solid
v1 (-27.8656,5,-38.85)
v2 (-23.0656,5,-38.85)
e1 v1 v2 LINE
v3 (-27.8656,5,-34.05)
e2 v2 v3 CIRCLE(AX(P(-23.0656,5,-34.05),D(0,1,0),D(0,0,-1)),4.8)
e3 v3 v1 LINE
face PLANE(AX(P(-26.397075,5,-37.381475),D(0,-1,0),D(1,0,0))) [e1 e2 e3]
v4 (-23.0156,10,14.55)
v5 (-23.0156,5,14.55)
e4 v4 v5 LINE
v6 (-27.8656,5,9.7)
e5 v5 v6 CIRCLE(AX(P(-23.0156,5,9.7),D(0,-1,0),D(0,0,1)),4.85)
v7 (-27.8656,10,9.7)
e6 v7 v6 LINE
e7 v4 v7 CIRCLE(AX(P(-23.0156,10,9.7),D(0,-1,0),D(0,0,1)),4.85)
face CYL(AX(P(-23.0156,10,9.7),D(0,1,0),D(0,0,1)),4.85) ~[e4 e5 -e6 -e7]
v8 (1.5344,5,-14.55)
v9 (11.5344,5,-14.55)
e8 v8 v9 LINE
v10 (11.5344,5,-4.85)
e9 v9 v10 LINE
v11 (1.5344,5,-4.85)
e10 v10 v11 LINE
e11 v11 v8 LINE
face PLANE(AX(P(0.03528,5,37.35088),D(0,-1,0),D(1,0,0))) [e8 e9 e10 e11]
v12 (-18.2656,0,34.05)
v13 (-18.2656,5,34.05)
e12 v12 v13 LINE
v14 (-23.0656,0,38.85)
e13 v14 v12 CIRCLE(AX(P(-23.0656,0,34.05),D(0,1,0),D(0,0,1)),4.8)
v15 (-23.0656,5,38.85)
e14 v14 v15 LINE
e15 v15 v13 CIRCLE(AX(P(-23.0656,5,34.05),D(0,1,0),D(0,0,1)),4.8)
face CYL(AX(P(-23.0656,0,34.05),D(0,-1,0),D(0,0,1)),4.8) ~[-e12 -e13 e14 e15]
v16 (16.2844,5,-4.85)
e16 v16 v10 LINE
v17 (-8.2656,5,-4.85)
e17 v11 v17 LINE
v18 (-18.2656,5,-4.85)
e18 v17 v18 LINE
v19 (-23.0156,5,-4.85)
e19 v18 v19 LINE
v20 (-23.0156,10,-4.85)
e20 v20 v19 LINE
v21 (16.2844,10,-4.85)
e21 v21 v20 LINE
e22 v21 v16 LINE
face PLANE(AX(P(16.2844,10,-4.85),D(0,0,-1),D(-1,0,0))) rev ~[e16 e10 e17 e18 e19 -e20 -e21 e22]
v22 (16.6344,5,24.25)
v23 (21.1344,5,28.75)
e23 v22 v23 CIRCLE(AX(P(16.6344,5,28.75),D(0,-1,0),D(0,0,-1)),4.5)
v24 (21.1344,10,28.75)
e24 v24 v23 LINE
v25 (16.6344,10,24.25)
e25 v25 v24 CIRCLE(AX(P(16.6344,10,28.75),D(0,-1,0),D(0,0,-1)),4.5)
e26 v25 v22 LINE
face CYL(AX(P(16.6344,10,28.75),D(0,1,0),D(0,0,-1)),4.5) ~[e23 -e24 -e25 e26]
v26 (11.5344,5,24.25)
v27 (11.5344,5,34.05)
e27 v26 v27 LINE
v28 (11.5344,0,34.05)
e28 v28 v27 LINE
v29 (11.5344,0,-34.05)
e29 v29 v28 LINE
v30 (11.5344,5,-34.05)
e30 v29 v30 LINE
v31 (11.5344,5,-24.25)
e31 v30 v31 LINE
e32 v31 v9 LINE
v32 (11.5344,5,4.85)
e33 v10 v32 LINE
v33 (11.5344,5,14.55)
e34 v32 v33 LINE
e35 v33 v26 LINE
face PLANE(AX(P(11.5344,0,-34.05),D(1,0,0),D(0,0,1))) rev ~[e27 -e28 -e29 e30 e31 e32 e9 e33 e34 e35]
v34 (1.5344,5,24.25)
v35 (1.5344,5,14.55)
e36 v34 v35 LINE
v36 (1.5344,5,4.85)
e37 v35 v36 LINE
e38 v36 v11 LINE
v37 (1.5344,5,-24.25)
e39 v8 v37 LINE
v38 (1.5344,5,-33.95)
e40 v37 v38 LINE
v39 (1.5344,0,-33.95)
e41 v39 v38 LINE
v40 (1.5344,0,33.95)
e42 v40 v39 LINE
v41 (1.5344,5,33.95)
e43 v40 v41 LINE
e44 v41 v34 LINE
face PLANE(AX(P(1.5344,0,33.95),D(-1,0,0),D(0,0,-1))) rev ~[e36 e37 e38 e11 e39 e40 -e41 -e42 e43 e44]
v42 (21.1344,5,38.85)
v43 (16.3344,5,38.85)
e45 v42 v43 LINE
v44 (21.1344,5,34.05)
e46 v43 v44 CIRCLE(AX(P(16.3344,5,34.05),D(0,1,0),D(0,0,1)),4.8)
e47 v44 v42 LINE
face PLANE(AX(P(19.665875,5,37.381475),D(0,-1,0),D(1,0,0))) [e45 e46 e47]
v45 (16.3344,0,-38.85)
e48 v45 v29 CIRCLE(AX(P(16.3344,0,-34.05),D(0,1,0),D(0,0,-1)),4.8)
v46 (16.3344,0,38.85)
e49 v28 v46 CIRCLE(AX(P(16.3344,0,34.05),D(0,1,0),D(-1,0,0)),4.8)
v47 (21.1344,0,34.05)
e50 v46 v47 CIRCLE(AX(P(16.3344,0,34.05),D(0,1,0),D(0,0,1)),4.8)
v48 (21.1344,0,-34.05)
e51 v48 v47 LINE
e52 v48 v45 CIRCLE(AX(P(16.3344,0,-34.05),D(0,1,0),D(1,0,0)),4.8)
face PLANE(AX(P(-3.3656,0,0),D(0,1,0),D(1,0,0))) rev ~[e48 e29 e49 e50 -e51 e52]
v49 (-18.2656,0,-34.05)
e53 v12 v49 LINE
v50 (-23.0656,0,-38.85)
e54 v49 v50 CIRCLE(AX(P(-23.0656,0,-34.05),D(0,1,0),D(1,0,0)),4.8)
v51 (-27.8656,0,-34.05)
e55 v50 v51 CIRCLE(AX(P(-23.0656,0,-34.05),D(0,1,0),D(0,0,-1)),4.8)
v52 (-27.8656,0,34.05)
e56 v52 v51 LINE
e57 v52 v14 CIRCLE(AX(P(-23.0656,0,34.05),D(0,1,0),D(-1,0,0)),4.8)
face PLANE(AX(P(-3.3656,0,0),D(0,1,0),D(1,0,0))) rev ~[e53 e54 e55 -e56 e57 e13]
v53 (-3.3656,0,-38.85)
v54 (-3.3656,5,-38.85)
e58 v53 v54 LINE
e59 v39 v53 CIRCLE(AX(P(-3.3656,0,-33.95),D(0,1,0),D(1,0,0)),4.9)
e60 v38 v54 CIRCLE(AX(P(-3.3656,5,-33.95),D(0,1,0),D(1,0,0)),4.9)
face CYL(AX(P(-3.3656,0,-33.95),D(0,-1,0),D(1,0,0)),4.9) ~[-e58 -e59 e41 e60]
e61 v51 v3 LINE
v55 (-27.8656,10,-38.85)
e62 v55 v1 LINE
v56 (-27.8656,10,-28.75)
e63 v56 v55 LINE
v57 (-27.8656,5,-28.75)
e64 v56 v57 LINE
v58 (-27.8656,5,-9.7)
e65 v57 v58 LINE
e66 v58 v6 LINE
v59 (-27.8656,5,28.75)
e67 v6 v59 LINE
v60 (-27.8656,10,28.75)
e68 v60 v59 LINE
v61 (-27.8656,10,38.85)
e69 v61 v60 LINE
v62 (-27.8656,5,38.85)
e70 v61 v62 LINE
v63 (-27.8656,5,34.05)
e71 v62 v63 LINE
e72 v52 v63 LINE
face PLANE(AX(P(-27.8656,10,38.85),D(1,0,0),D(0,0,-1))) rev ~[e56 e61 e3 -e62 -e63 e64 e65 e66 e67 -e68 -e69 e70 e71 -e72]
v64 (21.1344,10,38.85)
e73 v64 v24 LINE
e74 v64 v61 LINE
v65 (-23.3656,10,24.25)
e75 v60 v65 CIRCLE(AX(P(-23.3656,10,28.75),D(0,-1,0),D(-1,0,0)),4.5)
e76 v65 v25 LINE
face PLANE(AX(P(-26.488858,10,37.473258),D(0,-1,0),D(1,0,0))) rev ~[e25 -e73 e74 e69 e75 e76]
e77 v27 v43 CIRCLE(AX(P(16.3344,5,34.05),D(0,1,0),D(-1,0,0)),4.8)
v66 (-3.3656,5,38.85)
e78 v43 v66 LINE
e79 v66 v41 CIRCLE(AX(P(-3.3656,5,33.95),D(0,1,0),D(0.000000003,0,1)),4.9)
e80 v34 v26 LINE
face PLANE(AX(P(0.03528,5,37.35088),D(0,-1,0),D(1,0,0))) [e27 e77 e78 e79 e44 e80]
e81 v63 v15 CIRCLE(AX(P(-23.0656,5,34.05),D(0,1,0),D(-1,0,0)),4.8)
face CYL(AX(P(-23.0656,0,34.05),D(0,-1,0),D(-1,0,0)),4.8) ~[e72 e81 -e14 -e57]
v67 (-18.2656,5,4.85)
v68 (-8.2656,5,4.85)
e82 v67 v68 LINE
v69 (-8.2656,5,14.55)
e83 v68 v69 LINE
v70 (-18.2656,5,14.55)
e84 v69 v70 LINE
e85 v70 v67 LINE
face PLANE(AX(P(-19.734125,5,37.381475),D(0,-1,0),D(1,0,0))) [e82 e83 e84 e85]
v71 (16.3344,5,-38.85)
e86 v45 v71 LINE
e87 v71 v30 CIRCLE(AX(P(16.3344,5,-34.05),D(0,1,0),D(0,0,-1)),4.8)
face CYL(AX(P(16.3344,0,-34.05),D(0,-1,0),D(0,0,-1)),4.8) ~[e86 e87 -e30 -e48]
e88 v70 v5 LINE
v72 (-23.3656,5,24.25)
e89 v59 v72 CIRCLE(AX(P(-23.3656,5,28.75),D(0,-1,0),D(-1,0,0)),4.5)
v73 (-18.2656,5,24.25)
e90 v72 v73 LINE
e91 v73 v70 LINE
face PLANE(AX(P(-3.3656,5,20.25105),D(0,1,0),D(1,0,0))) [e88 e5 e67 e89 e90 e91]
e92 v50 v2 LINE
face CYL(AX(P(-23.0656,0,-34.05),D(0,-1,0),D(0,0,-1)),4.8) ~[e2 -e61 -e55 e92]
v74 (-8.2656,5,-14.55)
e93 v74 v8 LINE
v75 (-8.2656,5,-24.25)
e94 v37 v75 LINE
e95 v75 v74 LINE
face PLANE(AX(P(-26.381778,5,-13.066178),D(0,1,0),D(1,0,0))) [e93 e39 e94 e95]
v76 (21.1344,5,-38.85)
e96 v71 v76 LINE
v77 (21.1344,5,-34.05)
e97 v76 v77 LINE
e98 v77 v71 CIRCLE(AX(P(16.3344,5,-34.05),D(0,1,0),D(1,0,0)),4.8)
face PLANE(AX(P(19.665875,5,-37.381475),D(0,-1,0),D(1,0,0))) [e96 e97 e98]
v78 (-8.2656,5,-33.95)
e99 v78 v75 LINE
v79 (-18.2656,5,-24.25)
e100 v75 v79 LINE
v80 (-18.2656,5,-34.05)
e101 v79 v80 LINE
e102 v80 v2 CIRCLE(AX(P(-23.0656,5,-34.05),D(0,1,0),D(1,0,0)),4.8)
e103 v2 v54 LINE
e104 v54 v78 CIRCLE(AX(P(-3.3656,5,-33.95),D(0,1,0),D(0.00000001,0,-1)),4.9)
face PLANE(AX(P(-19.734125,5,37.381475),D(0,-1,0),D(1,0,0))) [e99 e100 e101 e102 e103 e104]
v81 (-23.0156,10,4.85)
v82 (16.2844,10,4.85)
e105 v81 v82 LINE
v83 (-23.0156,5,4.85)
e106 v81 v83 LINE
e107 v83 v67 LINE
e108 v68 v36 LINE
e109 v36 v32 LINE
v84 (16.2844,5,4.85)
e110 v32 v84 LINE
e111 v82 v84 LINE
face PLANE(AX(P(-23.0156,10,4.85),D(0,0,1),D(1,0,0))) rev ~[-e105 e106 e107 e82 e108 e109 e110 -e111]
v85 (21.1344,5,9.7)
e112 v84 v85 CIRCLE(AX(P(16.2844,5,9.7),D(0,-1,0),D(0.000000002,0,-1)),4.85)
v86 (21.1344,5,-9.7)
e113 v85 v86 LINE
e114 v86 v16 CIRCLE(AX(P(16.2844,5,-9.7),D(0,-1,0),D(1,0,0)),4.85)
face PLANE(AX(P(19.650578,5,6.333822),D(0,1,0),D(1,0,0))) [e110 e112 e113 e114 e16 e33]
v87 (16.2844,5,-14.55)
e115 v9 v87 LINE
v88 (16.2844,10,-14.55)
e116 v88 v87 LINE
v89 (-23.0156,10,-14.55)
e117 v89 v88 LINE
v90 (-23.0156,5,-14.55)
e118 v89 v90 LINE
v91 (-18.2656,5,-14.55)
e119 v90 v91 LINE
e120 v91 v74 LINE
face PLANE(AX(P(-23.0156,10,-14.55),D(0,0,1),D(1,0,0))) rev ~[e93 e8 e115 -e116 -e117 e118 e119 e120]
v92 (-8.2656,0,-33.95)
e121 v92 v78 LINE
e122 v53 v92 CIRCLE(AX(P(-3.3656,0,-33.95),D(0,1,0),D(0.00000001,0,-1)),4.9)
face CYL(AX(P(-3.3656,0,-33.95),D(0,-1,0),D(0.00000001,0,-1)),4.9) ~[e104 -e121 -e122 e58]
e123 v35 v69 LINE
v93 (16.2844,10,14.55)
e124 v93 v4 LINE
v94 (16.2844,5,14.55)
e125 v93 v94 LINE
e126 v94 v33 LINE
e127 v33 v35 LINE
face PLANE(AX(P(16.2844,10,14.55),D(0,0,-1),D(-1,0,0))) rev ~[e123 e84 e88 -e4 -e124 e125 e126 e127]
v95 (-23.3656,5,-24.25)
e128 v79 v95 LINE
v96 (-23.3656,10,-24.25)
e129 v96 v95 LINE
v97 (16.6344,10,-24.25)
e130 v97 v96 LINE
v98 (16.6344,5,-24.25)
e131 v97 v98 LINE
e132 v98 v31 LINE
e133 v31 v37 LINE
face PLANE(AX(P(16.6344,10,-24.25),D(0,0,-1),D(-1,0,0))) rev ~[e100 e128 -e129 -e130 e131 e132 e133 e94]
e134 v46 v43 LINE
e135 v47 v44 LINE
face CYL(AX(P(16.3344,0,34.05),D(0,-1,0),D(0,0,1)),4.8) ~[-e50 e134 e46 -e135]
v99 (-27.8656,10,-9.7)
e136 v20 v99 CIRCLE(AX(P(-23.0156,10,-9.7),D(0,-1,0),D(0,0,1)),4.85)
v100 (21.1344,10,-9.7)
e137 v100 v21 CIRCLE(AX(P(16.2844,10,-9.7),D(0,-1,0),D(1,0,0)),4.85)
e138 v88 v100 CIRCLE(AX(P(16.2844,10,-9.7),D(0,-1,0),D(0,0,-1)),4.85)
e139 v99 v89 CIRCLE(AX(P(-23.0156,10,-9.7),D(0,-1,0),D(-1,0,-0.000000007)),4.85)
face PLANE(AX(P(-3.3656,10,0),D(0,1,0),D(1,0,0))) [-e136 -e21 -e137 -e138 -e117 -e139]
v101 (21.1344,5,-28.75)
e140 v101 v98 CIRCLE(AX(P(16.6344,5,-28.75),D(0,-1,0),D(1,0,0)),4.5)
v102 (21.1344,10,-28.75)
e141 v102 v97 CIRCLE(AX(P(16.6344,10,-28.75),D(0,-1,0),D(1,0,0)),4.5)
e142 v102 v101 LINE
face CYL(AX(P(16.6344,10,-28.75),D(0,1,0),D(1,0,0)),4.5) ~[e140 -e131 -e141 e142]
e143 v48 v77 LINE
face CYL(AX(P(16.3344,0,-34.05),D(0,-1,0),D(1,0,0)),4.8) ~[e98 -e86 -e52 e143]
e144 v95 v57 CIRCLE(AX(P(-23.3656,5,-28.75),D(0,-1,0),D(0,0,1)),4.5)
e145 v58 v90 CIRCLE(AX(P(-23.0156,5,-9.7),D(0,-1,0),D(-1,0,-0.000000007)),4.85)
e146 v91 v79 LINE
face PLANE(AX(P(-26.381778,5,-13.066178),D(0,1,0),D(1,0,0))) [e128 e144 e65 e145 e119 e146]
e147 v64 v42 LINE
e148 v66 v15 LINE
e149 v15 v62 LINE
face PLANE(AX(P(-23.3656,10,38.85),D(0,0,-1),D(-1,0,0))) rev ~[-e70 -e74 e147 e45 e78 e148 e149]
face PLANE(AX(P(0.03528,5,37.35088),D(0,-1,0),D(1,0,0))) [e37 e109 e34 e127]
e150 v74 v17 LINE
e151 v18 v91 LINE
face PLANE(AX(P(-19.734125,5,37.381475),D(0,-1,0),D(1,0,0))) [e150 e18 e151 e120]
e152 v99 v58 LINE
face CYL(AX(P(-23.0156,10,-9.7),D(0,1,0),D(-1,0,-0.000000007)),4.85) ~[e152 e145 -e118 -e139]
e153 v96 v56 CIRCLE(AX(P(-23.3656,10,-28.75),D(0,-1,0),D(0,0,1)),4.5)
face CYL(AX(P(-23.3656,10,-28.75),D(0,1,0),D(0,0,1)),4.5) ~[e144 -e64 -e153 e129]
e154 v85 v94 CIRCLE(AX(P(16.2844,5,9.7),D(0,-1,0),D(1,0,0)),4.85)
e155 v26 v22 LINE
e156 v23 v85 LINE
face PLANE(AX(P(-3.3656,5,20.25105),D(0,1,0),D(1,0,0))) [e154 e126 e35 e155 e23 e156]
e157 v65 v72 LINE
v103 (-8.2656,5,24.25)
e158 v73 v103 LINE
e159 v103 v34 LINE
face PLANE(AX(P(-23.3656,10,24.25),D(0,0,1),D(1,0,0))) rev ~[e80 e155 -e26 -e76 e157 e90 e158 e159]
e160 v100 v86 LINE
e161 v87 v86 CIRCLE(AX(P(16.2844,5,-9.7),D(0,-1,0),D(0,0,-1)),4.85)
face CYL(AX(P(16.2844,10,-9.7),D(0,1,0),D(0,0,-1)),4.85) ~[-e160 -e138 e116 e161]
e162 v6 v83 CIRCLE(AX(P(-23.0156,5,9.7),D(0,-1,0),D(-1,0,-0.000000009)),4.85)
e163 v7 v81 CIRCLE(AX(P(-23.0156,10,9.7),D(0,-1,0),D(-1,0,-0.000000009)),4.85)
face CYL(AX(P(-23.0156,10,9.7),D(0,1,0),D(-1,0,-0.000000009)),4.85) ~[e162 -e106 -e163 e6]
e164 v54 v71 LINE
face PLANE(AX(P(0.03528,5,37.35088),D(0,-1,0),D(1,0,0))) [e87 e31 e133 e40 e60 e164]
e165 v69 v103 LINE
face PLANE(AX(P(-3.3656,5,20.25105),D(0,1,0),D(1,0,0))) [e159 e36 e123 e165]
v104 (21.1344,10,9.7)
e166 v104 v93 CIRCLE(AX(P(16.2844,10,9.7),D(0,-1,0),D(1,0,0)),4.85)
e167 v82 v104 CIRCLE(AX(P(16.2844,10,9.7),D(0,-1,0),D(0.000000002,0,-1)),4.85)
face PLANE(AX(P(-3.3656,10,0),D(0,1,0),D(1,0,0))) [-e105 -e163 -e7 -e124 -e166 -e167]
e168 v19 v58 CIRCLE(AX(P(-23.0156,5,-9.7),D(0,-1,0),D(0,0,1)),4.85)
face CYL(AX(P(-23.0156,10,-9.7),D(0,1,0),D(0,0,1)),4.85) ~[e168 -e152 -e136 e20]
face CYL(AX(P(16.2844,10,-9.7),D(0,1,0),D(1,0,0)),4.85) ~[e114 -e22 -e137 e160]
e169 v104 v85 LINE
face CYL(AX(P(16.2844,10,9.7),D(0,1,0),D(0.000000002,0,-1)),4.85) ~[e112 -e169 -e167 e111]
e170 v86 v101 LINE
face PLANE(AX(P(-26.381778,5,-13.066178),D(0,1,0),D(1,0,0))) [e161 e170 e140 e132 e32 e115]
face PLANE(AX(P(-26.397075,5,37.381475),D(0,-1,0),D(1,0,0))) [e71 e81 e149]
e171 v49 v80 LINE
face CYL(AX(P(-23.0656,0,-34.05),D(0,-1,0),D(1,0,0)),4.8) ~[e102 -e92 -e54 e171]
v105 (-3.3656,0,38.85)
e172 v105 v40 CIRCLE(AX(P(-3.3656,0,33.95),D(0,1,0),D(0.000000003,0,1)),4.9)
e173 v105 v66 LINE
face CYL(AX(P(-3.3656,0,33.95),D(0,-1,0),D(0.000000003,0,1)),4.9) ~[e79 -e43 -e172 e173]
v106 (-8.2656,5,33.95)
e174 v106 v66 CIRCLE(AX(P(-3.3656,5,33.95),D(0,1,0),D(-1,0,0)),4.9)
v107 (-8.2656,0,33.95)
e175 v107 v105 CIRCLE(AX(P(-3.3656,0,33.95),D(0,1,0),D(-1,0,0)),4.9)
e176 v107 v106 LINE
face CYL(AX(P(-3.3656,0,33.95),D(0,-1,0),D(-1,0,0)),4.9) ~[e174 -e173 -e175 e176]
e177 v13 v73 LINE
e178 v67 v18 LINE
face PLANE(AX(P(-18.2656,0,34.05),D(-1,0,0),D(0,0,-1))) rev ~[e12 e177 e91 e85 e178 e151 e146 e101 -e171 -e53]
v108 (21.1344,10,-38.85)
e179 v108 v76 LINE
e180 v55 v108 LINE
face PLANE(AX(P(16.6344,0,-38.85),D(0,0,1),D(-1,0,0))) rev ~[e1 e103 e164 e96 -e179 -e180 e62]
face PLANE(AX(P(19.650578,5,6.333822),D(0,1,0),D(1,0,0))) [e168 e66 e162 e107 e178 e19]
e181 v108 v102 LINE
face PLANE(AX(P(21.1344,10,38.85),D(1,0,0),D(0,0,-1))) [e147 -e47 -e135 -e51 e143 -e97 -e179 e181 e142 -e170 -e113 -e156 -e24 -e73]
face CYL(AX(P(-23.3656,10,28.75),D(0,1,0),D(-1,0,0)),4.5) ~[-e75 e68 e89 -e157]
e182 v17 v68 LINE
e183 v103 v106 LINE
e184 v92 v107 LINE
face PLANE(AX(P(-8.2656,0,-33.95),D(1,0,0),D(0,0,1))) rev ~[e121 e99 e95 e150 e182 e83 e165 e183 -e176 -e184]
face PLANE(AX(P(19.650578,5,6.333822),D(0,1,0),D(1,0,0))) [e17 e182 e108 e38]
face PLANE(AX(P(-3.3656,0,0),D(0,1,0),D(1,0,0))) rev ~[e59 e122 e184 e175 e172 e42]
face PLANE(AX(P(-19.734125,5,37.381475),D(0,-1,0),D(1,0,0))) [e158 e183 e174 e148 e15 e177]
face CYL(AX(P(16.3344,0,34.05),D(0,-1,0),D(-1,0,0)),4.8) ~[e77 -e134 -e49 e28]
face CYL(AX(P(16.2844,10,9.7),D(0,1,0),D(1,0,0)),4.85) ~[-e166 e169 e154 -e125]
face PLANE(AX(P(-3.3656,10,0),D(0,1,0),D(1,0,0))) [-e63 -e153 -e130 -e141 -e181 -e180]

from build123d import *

# Parameters (mm, degrees)
BOSS_EXTRUDE1_DEPTH      = 10
CUT_EXTRUDE3_DEPTH       = 5
BOSS_EXTRUDE6_DEPTH      = 5
BOSS_EXTRUDE6_DEPTH_BACK = 10
SKETCH5_W                = 4.5
SKETCH5_H                = 5
CUT_EXTRUDE5_DEPTH       = 60
CUT_EXTRUDE7_DEPTH       = 5


with BuildPart() as part:
    # Sketch1 → Boss-Extrude1 (new body)
    with BuildSketch(Plane(origin=(0, 0, 0), x_dir=(1, 0, 0), z_dir=(0, 1, 0))):
        with BuildLine():
            Line((-23.3656, -38.85), (16.6344, -38.85))
            ThreePointArc((16.6344, -38.85), (19.816380515, -37.531980515), (21.1344, -34.35))
            Line((21.1344, -34.35), (21.1344, 34.35))
            ThreePointArc((21.1344, 34.35), (19.816380515, 37.531980515), (16.6344, 38.85))
            Line((16.6344, 38.85), (-23.3656, 38.85))
            ThreePointArc((-23.3656, 38.85), (-26.547580515, 37.531980515), (-27.8656, 34.35))
            Line((-27.8656, 34.35), (-27.8656, -34.35))
            ThreePointArc((-27.8656, -34.35), (-26.547580515, -37.531980515), (-23.3656, -38.85))
        make_face()
    extrude(amount=BOSS_EXTRUDE1_DEPTH)

    # Sketch2 → Cut-Extrude3 (cut)
    with BuildSketch(Plane(origin=(0, 10, 0), x_dir=(1, 0, 0), z_dir=(0, 1, 0))):
        with BuildLine():
            Line((-23.0156, -14.55), (-27.8656, -14.55))
            Line((-27.8656, -14.55), (-27.8656, -28.75))
            ThreePointArc((-27.8656, -28.75), (-26.547580515, -25.568019485), (-23.3656, -24.25))
            Line((-23.3656, -24.25), (16.6344, -24.25))
            ThreePointArc((16.6344, -24.25), (19.816380515, -25.568019485), (21.1344, -28.75))
            Line((21.1344, -28.75), (21.1344, -14.55))
            Line((21.1344, -14.55), (16.2844, -14.55))
            Line((16.2844, -14.55), (-23.0156, -14.55))
        make_face()
        with BuildLine():
            ThreePointArc((-23.0156, -14.55), (-26.445067903, -13.129467874), (-27.8656, -9.699999958))
            Line((-27.8656, -9.699999958), (-27.8656, -14.55))
            Line((-27.8656, -14.55), (-23.0156, -14.55))
        make_face()
        with BuildLine():
            Line((21.1344, -14.55), (21.1344, -9.7))
            ThreePointArc((21.1344, -9.7), (19.713867889, -13.129467889), (16.2844, -14.55))
            Line((16.2844, -14.55), (21.1344, -14.55))
        make_face()
        with BuildLine():
            Line((21.1344, -9.7), (21.1344, -4.85))
            Line((21.1344, -4.85), (16.28440001, -4.85))
            ThreePointArc((16.28440001, -4.85), (19.713867892, -6.270532115), (21.1344, -9.7))
        make_face()
        with BuildLine():
            Line((-23.0156, -4.85), (-27.8656, -4.85))
            Line((-27.8656, -4.85), (-27.8656, -9.699999958))
            ThreePointArc((-27.8656, -9.699999958), (-26.445067874, -6.270532097), (-23.0156, -4.85))
        make_face()
        Polygon((-23.0156, 4.85), (-27.8656, 4.85), (-27.8656, -4.85), (-23.0156, -4.85), (16.28440001, -4.85), (21.1344, -4.85), (21.1344, 4.85), (16.284399974, 4.85), align=None)
        with BuildLine():
            ThreePointArc((-23.0156, 4.85), (-26.445067902, 6.270532124), (-27.8656, 9.700000036))
            Line((-27.8656, 9.700000036), (-27.8656, 4.85))
            Line((-27.8656, 4.85), (-23.0156, 4.85))
        make_face()
        with BuildLine():
            Line((21.1344, 4.85), (21.1344, 9.7))
            ThreePointArc((21.1344, 9.7), (19.71386788, 6.270532102), (16.284399974, 4.85))
            Line((16.284399974, 4.85), (21.1344, 4.85))
        make_face()
        with BuildLine():
            Line((-23.015600011, 14.55), (-27.8656, 14.55))
            Line((-27.8656, 14.55), (-27.8656, 9.700000036))
            ThreePointArc((-27.8656, 9.700000036), (-26.44506788, 13.129467898), (-23.015600011, 14.55))
        make_face()
        with BuildLine():
            Line((16.6344, 24.25), (-23.3656, 24.25))
            ThreePointArc((-23.3656, 24.25), (-26.547580515, 25.568019485), (-27.8656, 28.75))
            Line((-27.8656, 28.75), (-27.8656, 14.55))
            Line((-27.8656, 14.55), (-23.015600011, 14.55))
            Line((-23.015600011, 14.55), (16.2844, 14.55))
            Line((16.2844, 14.55), (21.1344, 14.55))
            Line((21.1344, 14.55), (21.1344, 28.75))
            ThreePointArc((21.1344, 28.75), (19.816380515, 25.568019485), (16.6344, 24.25))
        make_face()
        with BuildLine():
            Line((21.1344, 9.7), (21.1344, 14.55))
            Line((21.1344, 14.55), (16.2844, 14.55))
            ThreePointArc((16.2844, 14.55), (19.713867889, 13.129467889), (21.1344, 9.7))
        make_face()
    extrude(amount=-CUT_EXTRUDE3_DEPTH, mode=Mode.SUBTRACT)

    # Sketch4 → Boss-Extrude6 (add, two sides: drawn at the far end of the back side and taken through both)
    with BuildSketch(Plane.XZ.offset(-BOSS_EXTRUDE6_DEPTH_BACK)):
        with BuildLine():
            ThreePointArc((-27.8656, 34.35), (-26.547580515, 37.531980515), (-23.3656, 38.85))
            Line((-23.3656, 38.85), (-27.8656, 38.85))
            Line((-27.8656, 38.85), (-27.8656, 34.35))
        make_face()
        with BuildLine():
            Line((-23.3656, 35.615611346), (-23.3656, 38.85))
            ThreePointArc((-23.3656, 38.85), (-26.547580515, 37.531980515), (-27.8656, 34.35))
            Line((-27.8656, 34.35), (-27.8656, 34.176611106))
            Line((-27.8656, 34.176611106), (-23.3656, 35.615611346))
        make_face()
        with BuildLine():
            Line((17.428758808, 36.847416441), (16.6344, 38.85))
            ThreePointArc((16.6344, 38.85), (19.816380515, 37.531980515), (21.1344, 34.35))
            Line((21.1344, 34.35), (17.428758808, 36.847416441))
        make_face()
        with BuildLine():
            Line((21.1344, 38.85), (21.1344, 34.35))
            ThreePointArc((21.1344, 34.35), (19.816380515, 37.531980515), (16.6344, 38.85))
            Line((16.6344, 38.85), (21.1344, 38.85))
        make_face()
        with BuildLine():
            Line((16.6344, -34.745010915), (21.1344, -34.35))
            ThreePointArc((21.1344, -34.35), (19.816380515, -37.531980515), (16.6344, -38.85))
            Line((16.6344, -38.85), (16.6344, -34.745010915))
        make_face()
        with BuildLine():
            Line((16.6344, -38.85), (21.1344, -38.85))
            Line((21.1344, -38.85), (21.1344, -34.35))
            ThreePointArc((21.1344, -34.35), (19.816380515, -37.531980515), (16.6344, -38.85))
        make_face()
        with BuildLine():
            Line((-23.3656, -38.85), (-23.156696732, -35.585785164))
            Line((-23.156696732, -35.585785164), (-27.8656, -34.35))
            ThreePointArc((-27.8656, -34.35), (-26.547580515, -37.531980515), (-23.3656, -38.85))
        make_face()
        with BuildLine():
            Line((-27.8656, -34.35), (-27.8656, -38.85))
            Line((-27.8656, -38.85), (-23.3656, -38.85))
            ThreePointArc((-23.3656, -38.85), (-26.547580515, -37.531980515), (-27.8656, -34.35))
        make_face()
    extrude(amount=BOSS_EXTRUDE6_DEPTH + BOSS_EXTRUDE6_DEPTH_BACK)

    # Sketch5 → Cut-Extrude5 (cut)
    with BuildSketch(Plane(origin=(21.1344, 0, 0), x_dir=(0, 0, -1), z_dir=(1, 0, 0))):
        Polygon((34.35, 0), (-34.35, 0), (-34.35, -5), (-38.85, -5), (-38.85, -11.467862175), (41.584838498, -11.467862175), (41.584838498, 0), (38.85, 0), (38.85, -5), (34.35, -5), align=None)
        with Locations((36.6, -2.5)):
            Rectangle(SKETCH5_W, SKETCH5_H)
        with Locations((-36.6, -2.5)):
            Rectangle(SKETCH5_W, SKETCH5_H)
    extrude(amount=-CUT_EXTRUDE5_DEPTH, mode=Mode.SUBTRACT)

    # Sketch6 → Cut-Extrude7 (cut)
    with BuildSketch(Plane.XZ):
        with BuildLine():
            ThreePointArc((-27.8656, 34.05), (-26.45971255, 37.44411255), (-23.0656, 38.85))
            Line((-23.0656, 38.85), (-27.8656, 38.85))
            Line((-27.8656, 38.85), (-27.8656, 34.05))
        make_face()
        with BuildLine():
            Line((-18.2656, 34.05), (-18.2656, 38.85))
            Line((-18.2656, 38.85), (-23.0656, 38.85))
            ThreePointArc((-23.0656, 38.85), (-19.67148745, 37.44411255), (-18.2656, 34.05))
        make_face()
        Polygon((-8.2656, 38.85), (-18.2656, 38.85), (-18.2656, 34.05), (-18.2656, -34.05), (-18.2656, -38.85), (-8.2656, -38.85), (-8.2656, -33.950000026), (-8.2656, 33.95), align=None)
        with BuildLine():
            Line((-3.365599985, 38.85), (-8.2656, 38.85))
            Line((-8.2656, 38.85), (-8.2656, 33.95))
            ThreePointArc((-8.2656, 33.95), (-6.830423222, 37.414823233), (-3.365599985, 38.85))
        make_face()
        with BuildLine():
            Line((1.5344, 38.85), (-3.365599985, 38.85))
            ThreePointArc((-3.365599985, 38.85), (0.099223233, 37.414823222), (1.5344, 33.95))
            Line((1.5344, 33.95), (1.5344, 38.85))
        make_face()
        Polygon((1.5344, 38.85), (1.5344, 33.95), (1.5344, -33.95), (1.5344, -38.85), (11.5344, -38.85), (11.5344, -34.050000018), (11.5344, 34.05), (11.5344, 38.85), align=None)
        with BuildLine():
            Line((16.3344, 38.85), (11.5344, 38.85))
            Line((11.5344, 38.85), (11.5344, 34.05))
            ThreePointArc((11.5344, 34.05), (12.94028745, 37.44411255), (16.3344, 38.85))
        make_face()
        with BuildLine():
            Line((21.1344, 38.85), (16.3344, 38.85))
            ThreePointArc((16.3344, 38.85), (19.72851255, 37.44411255), (21.1344, 34.05))
            Line((21.1344, 34.05), (21.1344, 38.85))
        make_face()
        with BuildLine():
            ThreePointArc((21.1344, -34.05), (19.72851255, -37.44411255), (16.3344, -38.85))
            Line((16.3344, -38.85), (21.1344, -38.85))
            Line((21.1344, -38.85), (21.1344, -34.05))
        make_face()
        with BuildLine():
            Line((11.5344, -34.050000018), (11.5344, -38.85))
            Line((11.5344, -38.85), (16.3344, -38.85))
            ThreePointArc((16.3344, -38.85), (12.940287457, -37.444112556), (11.5344, -34.050000018))
        make_face()
        with BuildLine():
            Line((1.5344, -38.85), (1.5344, -33.95))
            ThreePointArc((1.5344, -33.95), (0.099223245, -37.414823211), (-3.365599951, -38.85))
            Line((-3.365599951, -38.85), (1.5344, -38.85))
        make_face()
        with BuildLine():
            ThreePointArc((-3.365599951, -38.85), (-6.830423201, -37.414823254), (-8.2656, -33.950000026))
            Line((-8.2656, -33.950000026), (-8.2656, -38.85))
            Line((-8.2656, -38.85), (-3.365599951, -38.85))
        make_face()
        with BuildLine():
            Line((-18.2656, -38.85), (-18.2656, -34.05))
            ThreePointArc((-18.2656, -34.05), (-19.67148745, -37.44411255), (-23.0656, -38.85))
            Line((-23.0656, -38.85), (-18.2656, -38.85))
        make_face()
        with BuildLine():
            ThreePointArc((-23.0656, -38.85), (-26.459712556, -37.444112543), (-27.8656, -34.049999982))
            Line((-27.8656, -34.049999982), (-27.8656, -38.85))
            Line((-27.8656, -38.85), (-23.0656, -38.85))
        make_face()
    extrude(amount=-CUT_EXTRUDE7_DEPTH, mode=Mode.SUBTRACT)


solid = part.part
